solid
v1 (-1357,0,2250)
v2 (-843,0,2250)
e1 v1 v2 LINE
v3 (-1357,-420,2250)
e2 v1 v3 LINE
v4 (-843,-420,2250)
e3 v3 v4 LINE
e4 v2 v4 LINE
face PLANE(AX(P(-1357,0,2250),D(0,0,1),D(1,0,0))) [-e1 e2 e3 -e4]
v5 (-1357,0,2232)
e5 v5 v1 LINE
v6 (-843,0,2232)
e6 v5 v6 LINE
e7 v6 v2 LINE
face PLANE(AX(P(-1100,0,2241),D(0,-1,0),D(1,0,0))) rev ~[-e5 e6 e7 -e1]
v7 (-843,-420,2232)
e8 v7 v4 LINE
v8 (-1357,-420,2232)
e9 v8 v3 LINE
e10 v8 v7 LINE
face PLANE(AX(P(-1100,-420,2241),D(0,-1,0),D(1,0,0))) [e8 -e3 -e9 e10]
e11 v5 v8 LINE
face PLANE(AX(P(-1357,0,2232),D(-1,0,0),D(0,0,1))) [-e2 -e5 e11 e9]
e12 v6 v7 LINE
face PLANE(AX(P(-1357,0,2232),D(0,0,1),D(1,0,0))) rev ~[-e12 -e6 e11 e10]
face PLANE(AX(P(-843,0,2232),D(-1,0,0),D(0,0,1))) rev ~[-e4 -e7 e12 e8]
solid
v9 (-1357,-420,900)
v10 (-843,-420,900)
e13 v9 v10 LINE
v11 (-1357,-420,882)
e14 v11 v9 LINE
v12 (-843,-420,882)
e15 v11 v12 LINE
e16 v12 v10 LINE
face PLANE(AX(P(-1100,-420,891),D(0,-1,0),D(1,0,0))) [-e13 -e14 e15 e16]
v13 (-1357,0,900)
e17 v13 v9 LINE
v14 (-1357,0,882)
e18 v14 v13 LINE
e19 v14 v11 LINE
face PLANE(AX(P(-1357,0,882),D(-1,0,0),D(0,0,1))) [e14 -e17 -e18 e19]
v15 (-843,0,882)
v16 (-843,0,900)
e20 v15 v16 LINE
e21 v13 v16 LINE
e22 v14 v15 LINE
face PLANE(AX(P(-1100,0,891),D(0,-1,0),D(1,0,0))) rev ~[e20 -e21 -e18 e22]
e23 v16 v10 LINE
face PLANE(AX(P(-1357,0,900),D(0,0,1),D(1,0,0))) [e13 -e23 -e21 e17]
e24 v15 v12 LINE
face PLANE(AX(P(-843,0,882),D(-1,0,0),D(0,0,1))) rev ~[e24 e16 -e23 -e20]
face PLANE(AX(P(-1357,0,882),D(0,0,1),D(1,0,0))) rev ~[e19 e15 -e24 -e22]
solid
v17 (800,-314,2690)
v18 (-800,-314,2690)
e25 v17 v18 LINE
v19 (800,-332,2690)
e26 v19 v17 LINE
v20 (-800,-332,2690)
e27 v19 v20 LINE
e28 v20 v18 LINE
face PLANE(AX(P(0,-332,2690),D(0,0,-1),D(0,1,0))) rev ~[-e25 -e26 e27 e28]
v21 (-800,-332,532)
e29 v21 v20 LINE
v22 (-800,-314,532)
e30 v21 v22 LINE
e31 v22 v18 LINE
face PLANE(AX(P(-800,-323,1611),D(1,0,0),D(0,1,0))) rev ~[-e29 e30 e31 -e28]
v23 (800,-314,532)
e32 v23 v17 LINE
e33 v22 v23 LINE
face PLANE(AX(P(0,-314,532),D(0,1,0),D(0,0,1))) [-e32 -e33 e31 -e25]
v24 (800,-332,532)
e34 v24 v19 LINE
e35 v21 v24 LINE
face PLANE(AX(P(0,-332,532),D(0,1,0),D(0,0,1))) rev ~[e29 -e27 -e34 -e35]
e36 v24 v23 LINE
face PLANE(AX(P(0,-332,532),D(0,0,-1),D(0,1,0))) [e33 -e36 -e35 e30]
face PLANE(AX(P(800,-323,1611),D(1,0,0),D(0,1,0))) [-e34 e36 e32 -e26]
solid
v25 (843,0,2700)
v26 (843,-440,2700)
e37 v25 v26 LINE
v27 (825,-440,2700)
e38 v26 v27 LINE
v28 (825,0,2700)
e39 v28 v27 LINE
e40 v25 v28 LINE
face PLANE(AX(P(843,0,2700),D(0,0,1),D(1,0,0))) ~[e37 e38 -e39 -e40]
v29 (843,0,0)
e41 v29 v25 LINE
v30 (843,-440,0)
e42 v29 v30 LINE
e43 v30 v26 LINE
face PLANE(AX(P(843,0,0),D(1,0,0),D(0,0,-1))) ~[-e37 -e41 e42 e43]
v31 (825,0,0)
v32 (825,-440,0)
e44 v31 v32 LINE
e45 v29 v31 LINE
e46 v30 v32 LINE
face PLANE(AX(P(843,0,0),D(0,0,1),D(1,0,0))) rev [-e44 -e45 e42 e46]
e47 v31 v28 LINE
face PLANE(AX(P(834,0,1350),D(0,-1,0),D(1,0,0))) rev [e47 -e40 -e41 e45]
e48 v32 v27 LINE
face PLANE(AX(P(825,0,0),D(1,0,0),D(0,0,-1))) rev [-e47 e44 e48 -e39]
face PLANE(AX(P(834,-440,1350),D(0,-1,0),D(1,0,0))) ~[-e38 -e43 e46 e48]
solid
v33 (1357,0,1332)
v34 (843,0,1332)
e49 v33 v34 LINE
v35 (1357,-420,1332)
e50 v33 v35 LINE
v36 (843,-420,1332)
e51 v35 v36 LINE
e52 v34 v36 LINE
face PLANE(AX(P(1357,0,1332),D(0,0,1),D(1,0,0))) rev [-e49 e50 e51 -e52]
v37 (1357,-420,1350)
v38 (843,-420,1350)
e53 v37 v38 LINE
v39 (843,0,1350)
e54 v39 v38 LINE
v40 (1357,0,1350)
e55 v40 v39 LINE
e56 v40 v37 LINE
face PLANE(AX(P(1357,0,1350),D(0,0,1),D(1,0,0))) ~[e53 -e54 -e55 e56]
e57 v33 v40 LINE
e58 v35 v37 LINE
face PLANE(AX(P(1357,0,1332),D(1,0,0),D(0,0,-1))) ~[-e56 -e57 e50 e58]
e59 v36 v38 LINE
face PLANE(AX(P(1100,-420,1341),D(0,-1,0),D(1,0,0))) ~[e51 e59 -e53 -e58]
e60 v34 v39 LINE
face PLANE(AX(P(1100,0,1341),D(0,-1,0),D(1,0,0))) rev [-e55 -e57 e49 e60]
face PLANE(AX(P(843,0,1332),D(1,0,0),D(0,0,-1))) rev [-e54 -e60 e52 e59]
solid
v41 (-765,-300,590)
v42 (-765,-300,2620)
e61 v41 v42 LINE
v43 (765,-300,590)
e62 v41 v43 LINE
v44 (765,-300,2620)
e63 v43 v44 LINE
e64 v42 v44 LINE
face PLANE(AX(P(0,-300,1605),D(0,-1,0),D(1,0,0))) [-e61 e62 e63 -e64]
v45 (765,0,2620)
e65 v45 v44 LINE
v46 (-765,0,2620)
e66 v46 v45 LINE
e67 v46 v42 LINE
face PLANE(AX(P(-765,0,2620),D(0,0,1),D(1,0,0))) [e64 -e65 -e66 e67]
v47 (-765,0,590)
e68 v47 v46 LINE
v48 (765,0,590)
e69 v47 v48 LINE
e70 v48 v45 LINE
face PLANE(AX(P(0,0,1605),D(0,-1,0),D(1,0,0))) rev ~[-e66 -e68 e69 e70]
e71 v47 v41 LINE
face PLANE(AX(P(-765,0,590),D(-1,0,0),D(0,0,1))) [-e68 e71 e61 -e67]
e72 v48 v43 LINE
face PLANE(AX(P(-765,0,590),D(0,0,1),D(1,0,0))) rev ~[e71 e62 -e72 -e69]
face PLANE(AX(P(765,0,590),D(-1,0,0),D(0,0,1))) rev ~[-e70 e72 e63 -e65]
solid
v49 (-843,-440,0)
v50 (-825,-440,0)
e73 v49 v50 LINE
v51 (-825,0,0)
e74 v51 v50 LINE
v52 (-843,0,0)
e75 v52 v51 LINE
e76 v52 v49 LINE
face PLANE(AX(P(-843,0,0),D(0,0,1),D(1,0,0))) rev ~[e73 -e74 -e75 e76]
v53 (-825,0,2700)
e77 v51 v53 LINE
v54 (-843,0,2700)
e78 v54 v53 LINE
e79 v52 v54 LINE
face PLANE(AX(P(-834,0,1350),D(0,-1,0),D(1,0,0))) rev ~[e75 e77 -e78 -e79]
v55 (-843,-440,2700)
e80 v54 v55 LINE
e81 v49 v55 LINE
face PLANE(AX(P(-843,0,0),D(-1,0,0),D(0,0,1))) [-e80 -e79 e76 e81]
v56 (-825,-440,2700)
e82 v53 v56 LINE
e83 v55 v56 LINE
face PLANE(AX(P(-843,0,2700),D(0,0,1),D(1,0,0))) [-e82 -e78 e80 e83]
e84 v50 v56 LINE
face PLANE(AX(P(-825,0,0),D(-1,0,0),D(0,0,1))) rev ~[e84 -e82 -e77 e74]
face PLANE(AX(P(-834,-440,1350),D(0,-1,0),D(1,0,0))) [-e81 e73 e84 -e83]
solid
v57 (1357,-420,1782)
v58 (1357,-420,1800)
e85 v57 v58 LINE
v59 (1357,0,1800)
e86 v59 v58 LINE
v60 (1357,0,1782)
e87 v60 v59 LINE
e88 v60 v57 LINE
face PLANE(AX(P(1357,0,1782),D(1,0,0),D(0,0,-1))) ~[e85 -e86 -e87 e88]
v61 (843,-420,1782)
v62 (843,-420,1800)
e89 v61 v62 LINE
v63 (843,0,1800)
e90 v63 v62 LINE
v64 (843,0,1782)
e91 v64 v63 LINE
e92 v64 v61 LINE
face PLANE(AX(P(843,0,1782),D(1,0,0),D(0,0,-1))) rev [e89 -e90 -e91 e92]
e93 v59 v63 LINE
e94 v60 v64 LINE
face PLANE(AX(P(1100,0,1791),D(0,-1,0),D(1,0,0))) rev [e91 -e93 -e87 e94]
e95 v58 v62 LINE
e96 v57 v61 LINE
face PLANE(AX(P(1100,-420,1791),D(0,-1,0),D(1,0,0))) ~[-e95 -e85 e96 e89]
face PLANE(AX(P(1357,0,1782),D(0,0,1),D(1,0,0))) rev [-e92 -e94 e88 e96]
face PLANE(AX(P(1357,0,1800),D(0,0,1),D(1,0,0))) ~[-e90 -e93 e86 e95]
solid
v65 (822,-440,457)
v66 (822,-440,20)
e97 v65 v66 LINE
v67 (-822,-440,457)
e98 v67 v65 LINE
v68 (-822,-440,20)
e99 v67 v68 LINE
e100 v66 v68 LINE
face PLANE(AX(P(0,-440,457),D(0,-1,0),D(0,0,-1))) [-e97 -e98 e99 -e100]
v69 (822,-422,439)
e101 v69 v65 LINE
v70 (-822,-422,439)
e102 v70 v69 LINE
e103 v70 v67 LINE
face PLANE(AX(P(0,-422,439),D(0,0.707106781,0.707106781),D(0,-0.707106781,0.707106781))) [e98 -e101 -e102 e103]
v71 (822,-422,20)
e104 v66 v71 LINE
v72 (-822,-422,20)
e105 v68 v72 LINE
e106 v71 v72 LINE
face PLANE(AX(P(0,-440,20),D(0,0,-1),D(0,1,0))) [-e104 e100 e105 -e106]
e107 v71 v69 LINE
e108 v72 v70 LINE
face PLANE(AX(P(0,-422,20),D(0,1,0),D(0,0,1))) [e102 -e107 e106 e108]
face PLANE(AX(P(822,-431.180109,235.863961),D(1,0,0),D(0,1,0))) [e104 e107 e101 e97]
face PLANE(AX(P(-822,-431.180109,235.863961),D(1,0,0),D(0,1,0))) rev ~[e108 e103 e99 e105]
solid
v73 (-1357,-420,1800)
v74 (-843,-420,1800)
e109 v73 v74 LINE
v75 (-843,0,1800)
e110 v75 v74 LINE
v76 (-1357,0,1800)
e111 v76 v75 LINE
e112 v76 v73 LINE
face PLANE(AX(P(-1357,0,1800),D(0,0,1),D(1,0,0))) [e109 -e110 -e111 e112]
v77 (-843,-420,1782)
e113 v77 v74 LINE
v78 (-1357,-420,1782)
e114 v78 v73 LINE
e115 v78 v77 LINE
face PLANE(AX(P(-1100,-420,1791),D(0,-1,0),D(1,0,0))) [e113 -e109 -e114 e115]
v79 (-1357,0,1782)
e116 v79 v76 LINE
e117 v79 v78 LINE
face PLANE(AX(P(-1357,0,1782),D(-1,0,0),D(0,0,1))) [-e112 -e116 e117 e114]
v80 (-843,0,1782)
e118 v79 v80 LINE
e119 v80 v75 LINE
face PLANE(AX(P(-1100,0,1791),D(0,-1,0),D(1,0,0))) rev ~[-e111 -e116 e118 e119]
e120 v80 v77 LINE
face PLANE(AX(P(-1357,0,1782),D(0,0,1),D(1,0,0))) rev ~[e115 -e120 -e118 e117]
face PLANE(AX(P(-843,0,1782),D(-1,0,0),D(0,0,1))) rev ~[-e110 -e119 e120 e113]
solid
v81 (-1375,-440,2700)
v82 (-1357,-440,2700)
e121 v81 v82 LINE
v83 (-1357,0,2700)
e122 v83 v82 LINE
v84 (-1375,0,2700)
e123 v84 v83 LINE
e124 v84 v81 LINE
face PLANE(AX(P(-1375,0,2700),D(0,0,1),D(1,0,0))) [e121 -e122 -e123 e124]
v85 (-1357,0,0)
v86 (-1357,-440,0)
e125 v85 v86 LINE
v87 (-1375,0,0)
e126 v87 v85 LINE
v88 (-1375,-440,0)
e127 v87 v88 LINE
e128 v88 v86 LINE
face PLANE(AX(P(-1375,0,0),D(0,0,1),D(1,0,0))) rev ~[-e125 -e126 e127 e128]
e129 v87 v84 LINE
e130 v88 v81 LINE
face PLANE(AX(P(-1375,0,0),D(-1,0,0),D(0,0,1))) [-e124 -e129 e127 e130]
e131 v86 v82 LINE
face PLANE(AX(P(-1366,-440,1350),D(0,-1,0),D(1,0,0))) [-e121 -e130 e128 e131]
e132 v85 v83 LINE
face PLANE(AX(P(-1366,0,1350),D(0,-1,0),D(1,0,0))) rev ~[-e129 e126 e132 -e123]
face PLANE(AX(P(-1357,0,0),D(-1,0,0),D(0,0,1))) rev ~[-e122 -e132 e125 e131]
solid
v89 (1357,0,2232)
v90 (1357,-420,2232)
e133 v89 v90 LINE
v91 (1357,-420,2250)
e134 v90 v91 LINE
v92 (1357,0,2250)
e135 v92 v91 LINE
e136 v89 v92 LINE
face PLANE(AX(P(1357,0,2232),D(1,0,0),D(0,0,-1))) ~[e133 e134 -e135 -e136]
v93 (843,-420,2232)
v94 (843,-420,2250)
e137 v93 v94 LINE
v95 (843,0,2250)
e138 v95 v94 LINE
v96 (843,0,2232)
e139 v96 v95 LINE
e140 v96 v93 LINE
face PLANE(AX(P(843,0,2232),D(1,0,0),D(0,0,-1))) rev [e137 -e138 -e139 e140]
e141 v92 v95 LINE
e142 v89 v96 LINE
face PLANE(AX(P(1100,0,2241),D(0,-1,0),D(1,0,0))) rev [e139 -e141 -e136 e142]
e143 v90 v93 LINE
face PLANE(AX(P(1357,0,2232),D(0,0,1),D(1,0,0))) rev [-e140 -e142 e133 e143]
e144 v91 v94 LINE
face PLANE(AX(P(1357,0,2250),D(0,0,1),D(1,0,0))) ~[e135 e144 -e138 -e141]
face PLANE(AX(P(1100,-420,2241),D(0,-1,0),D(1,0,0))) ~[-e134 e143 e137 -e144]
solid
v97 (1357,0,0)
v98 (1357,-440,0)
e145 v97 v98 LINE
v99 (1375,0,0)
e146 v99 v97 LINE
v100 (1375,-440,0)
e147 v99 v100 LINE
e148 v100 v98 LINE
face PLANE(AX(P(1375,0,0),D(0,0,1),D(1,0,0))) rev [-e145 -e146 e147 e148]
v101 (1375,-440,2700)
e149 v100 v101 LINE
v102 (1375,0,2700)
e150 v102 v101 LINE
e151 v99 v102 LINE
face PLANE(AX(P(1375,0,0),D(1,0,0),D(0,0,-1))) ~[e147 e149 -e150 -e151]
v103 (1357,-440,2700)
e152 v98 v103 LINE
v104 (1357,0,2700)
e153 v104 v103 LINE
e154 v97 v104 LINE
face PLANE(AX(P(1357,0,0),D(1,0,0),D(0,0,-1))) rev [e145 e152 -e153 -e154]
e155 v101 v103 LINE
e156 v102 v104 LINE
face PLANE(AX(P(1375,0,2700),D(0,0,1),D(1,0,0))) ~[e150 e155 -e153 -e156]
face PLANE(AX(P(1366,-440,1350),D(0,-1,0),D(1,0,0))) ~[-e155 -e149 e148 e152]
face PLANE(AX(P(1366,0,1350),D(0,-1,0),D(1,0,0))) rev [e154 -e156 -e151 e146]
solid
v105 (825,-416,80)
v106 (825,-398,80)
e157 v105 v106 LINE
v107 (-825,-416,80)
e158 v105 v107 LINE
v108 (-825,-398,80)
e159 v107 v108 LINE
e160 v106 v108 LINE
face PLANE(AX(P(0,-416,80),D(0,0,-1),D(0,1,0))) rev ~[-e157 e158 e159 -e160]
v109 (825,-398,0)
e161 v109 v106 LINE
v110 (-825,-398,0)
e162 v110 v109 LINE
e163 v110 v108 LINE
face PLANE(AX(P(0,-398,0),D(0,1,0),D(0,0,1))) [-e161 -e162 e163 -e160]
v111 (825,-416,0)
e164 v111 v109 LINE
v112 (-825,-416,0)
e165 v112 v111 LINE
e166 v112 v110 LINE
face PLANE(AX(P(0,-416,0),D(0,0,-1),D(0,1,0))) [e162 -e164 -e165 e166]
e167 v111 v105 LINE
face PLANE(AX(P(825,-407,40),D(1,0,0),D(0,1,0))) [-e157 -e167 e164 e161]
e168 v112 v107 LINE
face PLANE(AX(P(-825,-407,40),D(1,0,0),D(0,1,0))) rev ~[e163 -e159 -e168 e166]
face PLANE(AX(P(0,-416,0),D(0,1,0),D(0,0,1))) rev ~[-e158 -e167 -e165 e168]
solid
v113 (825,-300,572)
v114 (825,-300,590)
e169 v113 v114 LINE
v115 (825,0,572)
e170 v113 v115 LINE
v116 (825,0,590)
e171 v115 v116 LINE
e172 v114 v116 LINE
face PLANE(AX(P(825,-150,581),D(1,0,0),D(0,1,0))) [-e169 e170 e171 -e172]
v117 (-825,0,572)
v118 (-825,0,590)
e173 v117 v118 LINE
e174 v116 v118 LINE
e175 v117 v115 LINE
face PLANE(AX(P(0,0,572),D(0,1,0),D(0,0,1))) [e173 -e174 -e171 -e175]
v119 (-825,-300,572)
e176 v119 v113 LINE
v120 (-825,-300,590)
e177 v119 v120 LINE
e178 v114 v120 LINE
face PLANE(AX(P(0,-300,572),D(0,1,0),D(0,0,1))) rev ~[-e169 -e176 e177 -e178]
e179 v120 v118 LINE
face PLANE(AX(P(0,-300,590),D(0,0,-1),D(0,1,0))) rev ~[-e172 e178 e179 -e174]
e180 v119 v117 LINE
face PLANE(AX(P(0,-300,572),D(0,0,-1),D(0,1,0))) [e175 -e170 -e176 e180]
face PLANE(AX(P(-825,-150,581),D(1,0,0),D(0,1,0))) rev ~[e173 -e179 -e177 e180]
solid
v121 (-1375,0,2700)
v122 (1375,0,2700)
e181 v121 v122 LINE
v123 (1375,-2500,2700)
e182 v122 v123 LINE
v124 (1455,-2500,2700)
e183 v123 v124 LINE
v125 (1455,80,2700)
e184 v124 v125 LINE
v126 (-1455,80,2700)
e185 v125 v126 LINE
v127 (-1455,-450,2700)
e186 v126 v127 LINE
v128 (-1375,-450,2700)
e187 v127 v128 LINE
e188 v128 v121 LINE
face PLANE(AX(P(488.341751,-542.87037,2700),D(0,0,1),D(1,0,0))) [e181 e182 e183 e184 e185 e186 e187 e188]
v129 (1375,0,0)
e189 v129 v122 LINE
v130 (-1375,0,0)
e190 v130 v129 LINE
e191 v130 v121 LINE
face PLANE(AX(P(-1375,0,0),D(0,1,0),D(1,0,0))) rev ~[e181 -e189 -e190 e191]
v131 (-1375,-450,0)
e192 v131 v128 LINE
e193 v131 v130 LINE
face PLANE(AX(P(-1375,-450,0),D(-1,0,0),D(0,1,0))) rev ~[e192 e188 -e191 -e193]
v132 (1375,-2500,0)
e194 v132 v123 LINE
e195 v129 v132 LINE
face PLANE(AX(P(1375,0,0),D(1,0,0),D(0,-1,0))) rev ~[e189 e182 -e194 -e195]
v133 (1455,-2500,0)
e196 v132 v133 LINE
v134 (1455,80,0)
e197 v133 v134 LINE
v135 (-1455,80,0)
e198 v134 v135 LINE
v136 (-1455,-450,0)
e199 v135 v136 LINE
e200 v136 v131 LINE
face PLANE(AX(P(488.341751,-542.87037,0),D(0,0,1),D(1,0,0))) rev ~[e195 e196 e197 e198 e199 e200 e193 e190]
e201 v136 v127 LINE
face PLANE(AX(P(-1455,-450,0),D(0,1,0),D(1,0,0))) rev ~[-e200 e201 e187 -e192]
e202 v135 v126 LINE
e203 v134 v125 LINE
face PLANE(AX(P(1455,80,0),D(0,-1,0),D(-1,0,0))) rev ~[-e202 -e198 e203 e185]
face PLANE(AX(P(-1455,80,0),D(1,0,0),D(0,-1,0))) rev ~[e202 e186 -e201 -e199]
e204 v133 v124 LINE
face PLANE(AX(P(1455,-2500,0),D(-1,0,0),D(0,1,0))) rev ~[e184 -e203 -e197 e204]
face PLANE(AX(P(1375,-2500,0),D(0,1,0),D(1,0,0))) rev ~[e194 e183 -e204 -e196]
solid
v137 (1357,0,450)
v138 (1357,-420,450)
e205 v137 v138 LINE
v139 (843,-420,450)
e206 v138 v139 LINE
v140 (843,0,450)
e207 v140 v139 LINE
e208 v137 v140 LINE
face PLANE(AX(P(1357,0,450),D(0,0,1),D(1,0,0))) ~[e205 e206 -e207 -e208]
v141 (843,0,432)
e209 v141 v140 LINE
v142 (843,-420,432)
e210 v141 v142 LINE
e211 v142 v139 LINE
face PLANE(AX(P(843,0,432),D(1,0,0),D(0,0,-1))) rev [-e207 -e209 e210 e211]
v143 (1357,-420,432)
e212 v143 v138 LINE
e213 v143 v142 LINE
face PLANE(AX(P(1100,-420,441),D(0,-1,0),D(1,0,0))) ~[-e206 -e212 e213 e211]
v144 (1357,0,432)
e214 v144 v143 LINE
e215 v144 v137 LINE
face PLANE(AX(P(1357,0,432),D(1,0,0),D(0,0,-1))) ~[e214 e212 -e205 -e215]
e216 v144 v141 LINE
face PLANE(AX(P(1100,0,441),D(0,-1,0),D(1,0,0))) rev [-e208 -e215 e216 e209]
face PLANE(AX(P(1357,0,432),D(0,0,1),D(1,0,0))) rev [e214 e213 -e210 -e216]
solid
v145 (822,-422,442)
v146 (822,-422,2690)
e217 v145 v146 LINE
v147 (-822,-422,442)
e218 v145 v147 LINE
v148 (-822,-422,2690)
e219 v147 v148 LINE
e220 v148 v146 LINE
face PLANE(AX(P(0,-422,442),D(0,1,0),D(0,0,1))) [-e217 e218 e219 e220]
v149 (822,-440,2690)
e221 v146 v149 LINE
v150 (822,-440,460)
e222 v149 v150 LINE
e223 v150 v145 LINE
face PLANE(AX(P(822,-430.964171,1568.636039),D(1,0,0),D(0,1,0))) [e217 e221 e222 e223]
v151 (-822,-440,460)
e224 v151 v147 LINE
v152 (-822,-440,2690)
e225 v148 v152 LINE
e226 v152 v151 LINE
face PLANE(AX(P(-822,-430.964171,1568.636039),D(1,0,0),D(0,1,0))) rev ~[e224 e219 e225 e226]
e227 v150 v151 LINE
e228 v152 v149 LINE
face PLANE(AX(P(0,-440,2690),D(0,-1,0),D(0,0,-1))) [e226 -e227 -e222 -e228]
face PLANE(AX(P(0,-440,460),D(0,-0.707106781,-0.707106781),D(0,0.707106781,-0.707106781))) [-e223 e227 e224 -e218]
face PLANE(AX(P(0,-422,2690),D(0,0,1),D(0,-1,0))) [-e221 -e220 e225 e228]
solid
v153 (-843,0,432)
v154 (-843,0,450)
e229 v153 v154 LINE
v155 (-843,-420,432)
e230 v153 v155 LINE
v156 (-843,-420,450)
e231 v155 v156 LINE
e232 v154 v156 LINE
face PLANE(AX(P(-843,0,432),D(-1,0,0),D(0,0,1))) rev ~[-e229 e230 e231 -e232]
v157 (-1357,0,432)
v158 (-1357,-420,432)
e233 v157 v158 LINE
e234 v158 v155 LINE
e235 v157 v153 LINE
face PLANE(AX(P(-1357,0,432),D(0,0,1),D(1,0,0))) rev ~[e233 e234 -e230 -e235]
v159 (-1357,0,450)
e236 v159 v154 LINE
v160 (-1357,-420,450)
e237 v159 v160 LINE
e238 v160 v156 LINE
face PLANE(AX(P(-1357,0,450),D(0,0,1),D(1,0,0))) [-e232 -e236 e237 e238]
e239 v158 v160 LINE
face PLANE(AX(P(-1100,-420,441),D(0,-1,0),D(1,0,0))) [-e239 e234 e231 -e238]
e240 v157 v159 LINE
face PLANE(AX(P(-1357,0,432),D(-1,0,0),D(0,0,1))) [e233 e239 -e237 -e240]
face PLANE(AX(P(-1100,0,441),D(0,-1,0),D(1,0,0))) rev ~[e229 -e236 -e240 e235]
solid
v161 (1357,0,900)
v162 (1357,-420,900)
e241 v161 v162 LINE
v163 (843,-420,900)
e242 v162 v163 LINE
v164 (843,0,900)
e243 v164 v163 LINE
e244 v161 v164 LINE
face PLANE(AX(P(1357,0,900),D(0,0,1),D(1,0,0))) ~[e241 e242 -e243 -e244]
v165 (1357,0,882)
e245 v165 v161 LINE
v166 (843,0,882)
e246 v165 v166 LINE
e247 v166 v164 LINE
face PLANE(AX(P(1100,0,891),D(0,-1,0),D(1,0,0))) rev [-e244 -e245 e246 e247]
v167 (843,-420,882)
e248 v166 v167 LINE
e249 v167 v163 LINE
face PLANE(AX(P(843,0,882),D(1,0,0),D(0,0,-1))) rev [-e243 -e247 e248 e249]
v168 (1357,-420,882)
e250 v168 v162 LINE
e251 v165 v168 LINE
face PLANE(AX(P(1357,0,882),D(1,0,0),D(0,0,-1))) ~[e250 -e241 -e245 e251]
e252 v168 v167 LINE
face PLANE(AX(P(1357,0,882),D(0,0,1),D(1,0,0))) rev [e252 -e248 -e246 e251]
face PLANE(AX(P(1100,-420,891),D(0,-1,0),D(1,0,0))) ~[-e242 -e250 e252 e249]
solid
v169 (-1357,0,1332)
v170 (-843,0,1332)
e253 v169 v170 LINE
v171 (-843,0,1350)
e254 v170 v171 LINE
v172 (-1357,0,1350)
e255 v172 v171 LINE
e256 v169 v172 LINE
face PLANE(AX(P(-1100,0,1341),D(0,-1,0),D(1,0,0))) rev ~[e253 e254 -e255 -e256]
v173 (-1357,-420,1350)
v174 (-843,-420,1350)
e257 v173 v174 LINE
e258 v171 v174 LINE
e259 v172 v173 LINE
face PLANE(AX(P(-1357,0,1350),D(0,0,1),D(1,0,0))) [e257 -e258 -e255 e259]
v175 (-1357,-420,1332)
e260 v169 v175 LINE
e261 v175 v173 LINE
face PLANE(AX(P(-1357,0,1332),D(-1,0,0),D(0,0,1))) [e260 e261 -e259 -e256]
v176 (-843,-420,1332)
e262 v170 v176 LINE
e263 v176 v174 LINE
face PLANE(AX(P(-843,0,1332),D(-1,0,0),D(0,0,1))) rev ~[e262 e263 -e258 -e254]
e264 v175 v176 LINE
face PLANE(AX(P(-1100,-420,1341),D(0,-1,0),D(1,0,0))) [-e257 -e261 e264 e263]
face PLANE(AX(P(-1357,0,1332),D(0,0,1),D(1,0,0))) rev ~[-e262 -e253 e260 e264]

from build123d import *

# Parameters (mm, degrees)
F1_DEPTH       = 2700
F2_W           = 1530
F2_H           = 2030
F3_DEPTH       = 300
F4_W           = 18
F4_H           = 2700
F5_DEPTH       = 440
F6_W           = 18
F6_H           = 2700
F7_DEPTH       = 440
F8_W           = 514
F8_H           = 18
F9_DEPTH       = 420
F12_DEPTH      = 822
F12_DEPTH_BACK = 822
F13_W          = 300
F13_H          = 18
F14_DEPTH      = 825
F14_DEPTH_BACK = 825
F16_DEPTH      = 822
F16_DEPTH_BACK = 822
F17_W          = 18
F17_H          = 80
F18_DEPTH      = 825
F18_DEPTH_BACK = 825
F19_W          = 18
F19_H          = 2158
F20_DEPTH      = 800
F20_DEPTH_BACK = 800


with BuildPart() as f1:
    # F0 (on Top) → F1 (new body)
    with BuildSketch(Plane.XY):
        Polygon((-1455, -450), (-1375, -450), (-1375, 0), (1375, 0), (1375, -2500), (1455, -2500), (1455, 80), (-1455, 80), align=None)
    extrude(amount=F1_DEPTH)


with BuildPart() as f3:
    # F2 (on Front) → F3 (new body)
    with BuildSketch(Plane.XZ):
        with Locations((0, 1605)):
            Rectangle(F2_W, F2_H)
    extrude(amount=F3_DEPTH)


with BuildPart() as f5:
    # F4 (on Front) → F5 (new body)
    with BuildSketch(Plane.XZ):
        with Locations((-834, 1350)):
            Rectangle(F4_W, F4_H)
    extrude(amount=F5_DEPTH)


with BuildPart() as f7:
    # F6 (on Front) → F7 (new body)
    with BuildSketch(Plane.XZ):
        with Locations((-1366, 1350)):
            Rectangle(F6_W, F6_H)
    extrude(amount=F7_DEPTH)


with BuildPart() as f9:
    # F8 (on Front) → F9 (new body)
    with BuildSketch(Plane.XZ):
        with Locations((-1100, 2241)):
            Rectangle(F8_W, F8_H)
    extrude(amount=F9_DEPTH)


with BuildPart() as f9b:
    # F8 (on Front) → F9, piece 2 (new body)
    with BuildSketch(Plane.XZ):
        with Locations((-1100, 1791)):
            Rectangle(F8_W, F8_H)
    extrude(amount=F9_DEPTH)


with BuildPart() as f9c:
    # F8 (on Front) → F9, piece 3 (new body)
    with BuildSketch(Plane.XZ):
        with Locations((-1100, 1341)):
            Rectangle(F8_W, F8_H)
    extrude(amount=F9_DEPTH)


with BuildPart() as f9d:
    # F8 (on Front) → F9, piece 4 (new body)
    with BuildSketch(Plane.XZ):
        with Locations((-1100, 891)):
            Rectangle(F8_W, F8_H)
    extrude(amount=F9_DEPTH)


with BuildPart() as f9e:
    # F8 (on Front) → F9, piece 5 (new body)
    with BuildSketch(Plane.XZ):
        with Locations((-1100, 441)):
            Rectangle(F8_W, F8_H)
    extrude(amount=F9_DEPTH)


with BuildPart() as f10_1:
    # F10: instance of F7
    add(f7.part.mirror(Plane.YZ))


with BuildPart() as f10_2:
    # F10: instance of F5
    add(f5.part.mirror(Plane.YZ))


with BuildPart() as f10_3:
    # F10: instance of F9
    add(f9.part.mirror(Plane.YZ))


with BuildPart() as f10_4:
    # F10: instance of F9b
    add(f9b.part.mirror(Plane.YZ))


with BuildPart() as f10_5:
    # F10: instance of F9c
    add(f9c.part.mirror(Plane.YZ))


with BuildPart() as f10_6:
    # F10: instance of F9d
    add(f9d.part.mirror(Plane.YZ))


with BuildPart() as f10_7:
    # F10: instance of F9e
    add(f9e.part.mirror(Plane.YZ))


with BuildPart() as f12:
    # F11 (on Right) → F12 (new body, two sides)
    with BuildSketch(Plane.YZ) as f12_sk:
        Polygon((-422, 442), (-422, 2690), (-440, 2690), (-440, 460), align=None)
    extrude(amount=F12_DEPTH)
    extrude(f12_sk.sketch, amount=-F12_DEPTH_BACK)


with BuildPart() as f14:
    # F13 (on Right) → F14 (new body, two sides)
    with BuildSketch(Plane.YZ) as f14_sk:
        with Locations((-150, 581)):
            Rectangle(F13_W, F13_H)
    extrude(amount=F14_DEPTH)
    extrude(f14_sk.sketch, amount=-F14_DEPTH_BACK)


with BuildPart() as f16:
    # F15 (on Right) → F16 (new body, two sides)
    with BuildSketch(Plane.YZ) as f16_sk:
        Polygon((-422, 20), (-422, 439), (-440, 457), (-440, 20), align=None)
    extrude(amount=F16_DEPTH)
    extrude(f16_sk.sketch, amount=-F16_DEPTH_BACK)


with BuildPart() as f18:
    # F17 (on Right) → F18 (new body, two sides)
    with BuildSketch(Plane.YZ) as f18_sk:
        with Locations((-407, 40)):
            Rectangle(F17_W, F17_H)
    extrude(amount=F18_DEPTH)
    extrude(f18_sk.sketch, amount=-F18_DEPTH_BACK)


with BuildPart() as f20:
    # F19 (on Right) → F20 (new body, two sides)
    with BuildSketch(Plane.YZ) as f20_sk:
        with Locations((-323, 1611)):
            Rectangle(F19_W, F19_H)
    extrude(amount=F20_DEPTH)
    extrude(f20_sk.sketch, amount=-F20_DEPTH_BACK)


solid = Compound([f1.part, f3.part, f5.part, f7.part, f9.part, f9b.part, f9c.part, f9d.part, f9e.part, f10_1.part, f10_2.part, f10_3.part, f10_4.part, f10_5.part, f10_6.part, f10_7.part, f12.part, f14.part, f16.part, f18.part, f20.part])
